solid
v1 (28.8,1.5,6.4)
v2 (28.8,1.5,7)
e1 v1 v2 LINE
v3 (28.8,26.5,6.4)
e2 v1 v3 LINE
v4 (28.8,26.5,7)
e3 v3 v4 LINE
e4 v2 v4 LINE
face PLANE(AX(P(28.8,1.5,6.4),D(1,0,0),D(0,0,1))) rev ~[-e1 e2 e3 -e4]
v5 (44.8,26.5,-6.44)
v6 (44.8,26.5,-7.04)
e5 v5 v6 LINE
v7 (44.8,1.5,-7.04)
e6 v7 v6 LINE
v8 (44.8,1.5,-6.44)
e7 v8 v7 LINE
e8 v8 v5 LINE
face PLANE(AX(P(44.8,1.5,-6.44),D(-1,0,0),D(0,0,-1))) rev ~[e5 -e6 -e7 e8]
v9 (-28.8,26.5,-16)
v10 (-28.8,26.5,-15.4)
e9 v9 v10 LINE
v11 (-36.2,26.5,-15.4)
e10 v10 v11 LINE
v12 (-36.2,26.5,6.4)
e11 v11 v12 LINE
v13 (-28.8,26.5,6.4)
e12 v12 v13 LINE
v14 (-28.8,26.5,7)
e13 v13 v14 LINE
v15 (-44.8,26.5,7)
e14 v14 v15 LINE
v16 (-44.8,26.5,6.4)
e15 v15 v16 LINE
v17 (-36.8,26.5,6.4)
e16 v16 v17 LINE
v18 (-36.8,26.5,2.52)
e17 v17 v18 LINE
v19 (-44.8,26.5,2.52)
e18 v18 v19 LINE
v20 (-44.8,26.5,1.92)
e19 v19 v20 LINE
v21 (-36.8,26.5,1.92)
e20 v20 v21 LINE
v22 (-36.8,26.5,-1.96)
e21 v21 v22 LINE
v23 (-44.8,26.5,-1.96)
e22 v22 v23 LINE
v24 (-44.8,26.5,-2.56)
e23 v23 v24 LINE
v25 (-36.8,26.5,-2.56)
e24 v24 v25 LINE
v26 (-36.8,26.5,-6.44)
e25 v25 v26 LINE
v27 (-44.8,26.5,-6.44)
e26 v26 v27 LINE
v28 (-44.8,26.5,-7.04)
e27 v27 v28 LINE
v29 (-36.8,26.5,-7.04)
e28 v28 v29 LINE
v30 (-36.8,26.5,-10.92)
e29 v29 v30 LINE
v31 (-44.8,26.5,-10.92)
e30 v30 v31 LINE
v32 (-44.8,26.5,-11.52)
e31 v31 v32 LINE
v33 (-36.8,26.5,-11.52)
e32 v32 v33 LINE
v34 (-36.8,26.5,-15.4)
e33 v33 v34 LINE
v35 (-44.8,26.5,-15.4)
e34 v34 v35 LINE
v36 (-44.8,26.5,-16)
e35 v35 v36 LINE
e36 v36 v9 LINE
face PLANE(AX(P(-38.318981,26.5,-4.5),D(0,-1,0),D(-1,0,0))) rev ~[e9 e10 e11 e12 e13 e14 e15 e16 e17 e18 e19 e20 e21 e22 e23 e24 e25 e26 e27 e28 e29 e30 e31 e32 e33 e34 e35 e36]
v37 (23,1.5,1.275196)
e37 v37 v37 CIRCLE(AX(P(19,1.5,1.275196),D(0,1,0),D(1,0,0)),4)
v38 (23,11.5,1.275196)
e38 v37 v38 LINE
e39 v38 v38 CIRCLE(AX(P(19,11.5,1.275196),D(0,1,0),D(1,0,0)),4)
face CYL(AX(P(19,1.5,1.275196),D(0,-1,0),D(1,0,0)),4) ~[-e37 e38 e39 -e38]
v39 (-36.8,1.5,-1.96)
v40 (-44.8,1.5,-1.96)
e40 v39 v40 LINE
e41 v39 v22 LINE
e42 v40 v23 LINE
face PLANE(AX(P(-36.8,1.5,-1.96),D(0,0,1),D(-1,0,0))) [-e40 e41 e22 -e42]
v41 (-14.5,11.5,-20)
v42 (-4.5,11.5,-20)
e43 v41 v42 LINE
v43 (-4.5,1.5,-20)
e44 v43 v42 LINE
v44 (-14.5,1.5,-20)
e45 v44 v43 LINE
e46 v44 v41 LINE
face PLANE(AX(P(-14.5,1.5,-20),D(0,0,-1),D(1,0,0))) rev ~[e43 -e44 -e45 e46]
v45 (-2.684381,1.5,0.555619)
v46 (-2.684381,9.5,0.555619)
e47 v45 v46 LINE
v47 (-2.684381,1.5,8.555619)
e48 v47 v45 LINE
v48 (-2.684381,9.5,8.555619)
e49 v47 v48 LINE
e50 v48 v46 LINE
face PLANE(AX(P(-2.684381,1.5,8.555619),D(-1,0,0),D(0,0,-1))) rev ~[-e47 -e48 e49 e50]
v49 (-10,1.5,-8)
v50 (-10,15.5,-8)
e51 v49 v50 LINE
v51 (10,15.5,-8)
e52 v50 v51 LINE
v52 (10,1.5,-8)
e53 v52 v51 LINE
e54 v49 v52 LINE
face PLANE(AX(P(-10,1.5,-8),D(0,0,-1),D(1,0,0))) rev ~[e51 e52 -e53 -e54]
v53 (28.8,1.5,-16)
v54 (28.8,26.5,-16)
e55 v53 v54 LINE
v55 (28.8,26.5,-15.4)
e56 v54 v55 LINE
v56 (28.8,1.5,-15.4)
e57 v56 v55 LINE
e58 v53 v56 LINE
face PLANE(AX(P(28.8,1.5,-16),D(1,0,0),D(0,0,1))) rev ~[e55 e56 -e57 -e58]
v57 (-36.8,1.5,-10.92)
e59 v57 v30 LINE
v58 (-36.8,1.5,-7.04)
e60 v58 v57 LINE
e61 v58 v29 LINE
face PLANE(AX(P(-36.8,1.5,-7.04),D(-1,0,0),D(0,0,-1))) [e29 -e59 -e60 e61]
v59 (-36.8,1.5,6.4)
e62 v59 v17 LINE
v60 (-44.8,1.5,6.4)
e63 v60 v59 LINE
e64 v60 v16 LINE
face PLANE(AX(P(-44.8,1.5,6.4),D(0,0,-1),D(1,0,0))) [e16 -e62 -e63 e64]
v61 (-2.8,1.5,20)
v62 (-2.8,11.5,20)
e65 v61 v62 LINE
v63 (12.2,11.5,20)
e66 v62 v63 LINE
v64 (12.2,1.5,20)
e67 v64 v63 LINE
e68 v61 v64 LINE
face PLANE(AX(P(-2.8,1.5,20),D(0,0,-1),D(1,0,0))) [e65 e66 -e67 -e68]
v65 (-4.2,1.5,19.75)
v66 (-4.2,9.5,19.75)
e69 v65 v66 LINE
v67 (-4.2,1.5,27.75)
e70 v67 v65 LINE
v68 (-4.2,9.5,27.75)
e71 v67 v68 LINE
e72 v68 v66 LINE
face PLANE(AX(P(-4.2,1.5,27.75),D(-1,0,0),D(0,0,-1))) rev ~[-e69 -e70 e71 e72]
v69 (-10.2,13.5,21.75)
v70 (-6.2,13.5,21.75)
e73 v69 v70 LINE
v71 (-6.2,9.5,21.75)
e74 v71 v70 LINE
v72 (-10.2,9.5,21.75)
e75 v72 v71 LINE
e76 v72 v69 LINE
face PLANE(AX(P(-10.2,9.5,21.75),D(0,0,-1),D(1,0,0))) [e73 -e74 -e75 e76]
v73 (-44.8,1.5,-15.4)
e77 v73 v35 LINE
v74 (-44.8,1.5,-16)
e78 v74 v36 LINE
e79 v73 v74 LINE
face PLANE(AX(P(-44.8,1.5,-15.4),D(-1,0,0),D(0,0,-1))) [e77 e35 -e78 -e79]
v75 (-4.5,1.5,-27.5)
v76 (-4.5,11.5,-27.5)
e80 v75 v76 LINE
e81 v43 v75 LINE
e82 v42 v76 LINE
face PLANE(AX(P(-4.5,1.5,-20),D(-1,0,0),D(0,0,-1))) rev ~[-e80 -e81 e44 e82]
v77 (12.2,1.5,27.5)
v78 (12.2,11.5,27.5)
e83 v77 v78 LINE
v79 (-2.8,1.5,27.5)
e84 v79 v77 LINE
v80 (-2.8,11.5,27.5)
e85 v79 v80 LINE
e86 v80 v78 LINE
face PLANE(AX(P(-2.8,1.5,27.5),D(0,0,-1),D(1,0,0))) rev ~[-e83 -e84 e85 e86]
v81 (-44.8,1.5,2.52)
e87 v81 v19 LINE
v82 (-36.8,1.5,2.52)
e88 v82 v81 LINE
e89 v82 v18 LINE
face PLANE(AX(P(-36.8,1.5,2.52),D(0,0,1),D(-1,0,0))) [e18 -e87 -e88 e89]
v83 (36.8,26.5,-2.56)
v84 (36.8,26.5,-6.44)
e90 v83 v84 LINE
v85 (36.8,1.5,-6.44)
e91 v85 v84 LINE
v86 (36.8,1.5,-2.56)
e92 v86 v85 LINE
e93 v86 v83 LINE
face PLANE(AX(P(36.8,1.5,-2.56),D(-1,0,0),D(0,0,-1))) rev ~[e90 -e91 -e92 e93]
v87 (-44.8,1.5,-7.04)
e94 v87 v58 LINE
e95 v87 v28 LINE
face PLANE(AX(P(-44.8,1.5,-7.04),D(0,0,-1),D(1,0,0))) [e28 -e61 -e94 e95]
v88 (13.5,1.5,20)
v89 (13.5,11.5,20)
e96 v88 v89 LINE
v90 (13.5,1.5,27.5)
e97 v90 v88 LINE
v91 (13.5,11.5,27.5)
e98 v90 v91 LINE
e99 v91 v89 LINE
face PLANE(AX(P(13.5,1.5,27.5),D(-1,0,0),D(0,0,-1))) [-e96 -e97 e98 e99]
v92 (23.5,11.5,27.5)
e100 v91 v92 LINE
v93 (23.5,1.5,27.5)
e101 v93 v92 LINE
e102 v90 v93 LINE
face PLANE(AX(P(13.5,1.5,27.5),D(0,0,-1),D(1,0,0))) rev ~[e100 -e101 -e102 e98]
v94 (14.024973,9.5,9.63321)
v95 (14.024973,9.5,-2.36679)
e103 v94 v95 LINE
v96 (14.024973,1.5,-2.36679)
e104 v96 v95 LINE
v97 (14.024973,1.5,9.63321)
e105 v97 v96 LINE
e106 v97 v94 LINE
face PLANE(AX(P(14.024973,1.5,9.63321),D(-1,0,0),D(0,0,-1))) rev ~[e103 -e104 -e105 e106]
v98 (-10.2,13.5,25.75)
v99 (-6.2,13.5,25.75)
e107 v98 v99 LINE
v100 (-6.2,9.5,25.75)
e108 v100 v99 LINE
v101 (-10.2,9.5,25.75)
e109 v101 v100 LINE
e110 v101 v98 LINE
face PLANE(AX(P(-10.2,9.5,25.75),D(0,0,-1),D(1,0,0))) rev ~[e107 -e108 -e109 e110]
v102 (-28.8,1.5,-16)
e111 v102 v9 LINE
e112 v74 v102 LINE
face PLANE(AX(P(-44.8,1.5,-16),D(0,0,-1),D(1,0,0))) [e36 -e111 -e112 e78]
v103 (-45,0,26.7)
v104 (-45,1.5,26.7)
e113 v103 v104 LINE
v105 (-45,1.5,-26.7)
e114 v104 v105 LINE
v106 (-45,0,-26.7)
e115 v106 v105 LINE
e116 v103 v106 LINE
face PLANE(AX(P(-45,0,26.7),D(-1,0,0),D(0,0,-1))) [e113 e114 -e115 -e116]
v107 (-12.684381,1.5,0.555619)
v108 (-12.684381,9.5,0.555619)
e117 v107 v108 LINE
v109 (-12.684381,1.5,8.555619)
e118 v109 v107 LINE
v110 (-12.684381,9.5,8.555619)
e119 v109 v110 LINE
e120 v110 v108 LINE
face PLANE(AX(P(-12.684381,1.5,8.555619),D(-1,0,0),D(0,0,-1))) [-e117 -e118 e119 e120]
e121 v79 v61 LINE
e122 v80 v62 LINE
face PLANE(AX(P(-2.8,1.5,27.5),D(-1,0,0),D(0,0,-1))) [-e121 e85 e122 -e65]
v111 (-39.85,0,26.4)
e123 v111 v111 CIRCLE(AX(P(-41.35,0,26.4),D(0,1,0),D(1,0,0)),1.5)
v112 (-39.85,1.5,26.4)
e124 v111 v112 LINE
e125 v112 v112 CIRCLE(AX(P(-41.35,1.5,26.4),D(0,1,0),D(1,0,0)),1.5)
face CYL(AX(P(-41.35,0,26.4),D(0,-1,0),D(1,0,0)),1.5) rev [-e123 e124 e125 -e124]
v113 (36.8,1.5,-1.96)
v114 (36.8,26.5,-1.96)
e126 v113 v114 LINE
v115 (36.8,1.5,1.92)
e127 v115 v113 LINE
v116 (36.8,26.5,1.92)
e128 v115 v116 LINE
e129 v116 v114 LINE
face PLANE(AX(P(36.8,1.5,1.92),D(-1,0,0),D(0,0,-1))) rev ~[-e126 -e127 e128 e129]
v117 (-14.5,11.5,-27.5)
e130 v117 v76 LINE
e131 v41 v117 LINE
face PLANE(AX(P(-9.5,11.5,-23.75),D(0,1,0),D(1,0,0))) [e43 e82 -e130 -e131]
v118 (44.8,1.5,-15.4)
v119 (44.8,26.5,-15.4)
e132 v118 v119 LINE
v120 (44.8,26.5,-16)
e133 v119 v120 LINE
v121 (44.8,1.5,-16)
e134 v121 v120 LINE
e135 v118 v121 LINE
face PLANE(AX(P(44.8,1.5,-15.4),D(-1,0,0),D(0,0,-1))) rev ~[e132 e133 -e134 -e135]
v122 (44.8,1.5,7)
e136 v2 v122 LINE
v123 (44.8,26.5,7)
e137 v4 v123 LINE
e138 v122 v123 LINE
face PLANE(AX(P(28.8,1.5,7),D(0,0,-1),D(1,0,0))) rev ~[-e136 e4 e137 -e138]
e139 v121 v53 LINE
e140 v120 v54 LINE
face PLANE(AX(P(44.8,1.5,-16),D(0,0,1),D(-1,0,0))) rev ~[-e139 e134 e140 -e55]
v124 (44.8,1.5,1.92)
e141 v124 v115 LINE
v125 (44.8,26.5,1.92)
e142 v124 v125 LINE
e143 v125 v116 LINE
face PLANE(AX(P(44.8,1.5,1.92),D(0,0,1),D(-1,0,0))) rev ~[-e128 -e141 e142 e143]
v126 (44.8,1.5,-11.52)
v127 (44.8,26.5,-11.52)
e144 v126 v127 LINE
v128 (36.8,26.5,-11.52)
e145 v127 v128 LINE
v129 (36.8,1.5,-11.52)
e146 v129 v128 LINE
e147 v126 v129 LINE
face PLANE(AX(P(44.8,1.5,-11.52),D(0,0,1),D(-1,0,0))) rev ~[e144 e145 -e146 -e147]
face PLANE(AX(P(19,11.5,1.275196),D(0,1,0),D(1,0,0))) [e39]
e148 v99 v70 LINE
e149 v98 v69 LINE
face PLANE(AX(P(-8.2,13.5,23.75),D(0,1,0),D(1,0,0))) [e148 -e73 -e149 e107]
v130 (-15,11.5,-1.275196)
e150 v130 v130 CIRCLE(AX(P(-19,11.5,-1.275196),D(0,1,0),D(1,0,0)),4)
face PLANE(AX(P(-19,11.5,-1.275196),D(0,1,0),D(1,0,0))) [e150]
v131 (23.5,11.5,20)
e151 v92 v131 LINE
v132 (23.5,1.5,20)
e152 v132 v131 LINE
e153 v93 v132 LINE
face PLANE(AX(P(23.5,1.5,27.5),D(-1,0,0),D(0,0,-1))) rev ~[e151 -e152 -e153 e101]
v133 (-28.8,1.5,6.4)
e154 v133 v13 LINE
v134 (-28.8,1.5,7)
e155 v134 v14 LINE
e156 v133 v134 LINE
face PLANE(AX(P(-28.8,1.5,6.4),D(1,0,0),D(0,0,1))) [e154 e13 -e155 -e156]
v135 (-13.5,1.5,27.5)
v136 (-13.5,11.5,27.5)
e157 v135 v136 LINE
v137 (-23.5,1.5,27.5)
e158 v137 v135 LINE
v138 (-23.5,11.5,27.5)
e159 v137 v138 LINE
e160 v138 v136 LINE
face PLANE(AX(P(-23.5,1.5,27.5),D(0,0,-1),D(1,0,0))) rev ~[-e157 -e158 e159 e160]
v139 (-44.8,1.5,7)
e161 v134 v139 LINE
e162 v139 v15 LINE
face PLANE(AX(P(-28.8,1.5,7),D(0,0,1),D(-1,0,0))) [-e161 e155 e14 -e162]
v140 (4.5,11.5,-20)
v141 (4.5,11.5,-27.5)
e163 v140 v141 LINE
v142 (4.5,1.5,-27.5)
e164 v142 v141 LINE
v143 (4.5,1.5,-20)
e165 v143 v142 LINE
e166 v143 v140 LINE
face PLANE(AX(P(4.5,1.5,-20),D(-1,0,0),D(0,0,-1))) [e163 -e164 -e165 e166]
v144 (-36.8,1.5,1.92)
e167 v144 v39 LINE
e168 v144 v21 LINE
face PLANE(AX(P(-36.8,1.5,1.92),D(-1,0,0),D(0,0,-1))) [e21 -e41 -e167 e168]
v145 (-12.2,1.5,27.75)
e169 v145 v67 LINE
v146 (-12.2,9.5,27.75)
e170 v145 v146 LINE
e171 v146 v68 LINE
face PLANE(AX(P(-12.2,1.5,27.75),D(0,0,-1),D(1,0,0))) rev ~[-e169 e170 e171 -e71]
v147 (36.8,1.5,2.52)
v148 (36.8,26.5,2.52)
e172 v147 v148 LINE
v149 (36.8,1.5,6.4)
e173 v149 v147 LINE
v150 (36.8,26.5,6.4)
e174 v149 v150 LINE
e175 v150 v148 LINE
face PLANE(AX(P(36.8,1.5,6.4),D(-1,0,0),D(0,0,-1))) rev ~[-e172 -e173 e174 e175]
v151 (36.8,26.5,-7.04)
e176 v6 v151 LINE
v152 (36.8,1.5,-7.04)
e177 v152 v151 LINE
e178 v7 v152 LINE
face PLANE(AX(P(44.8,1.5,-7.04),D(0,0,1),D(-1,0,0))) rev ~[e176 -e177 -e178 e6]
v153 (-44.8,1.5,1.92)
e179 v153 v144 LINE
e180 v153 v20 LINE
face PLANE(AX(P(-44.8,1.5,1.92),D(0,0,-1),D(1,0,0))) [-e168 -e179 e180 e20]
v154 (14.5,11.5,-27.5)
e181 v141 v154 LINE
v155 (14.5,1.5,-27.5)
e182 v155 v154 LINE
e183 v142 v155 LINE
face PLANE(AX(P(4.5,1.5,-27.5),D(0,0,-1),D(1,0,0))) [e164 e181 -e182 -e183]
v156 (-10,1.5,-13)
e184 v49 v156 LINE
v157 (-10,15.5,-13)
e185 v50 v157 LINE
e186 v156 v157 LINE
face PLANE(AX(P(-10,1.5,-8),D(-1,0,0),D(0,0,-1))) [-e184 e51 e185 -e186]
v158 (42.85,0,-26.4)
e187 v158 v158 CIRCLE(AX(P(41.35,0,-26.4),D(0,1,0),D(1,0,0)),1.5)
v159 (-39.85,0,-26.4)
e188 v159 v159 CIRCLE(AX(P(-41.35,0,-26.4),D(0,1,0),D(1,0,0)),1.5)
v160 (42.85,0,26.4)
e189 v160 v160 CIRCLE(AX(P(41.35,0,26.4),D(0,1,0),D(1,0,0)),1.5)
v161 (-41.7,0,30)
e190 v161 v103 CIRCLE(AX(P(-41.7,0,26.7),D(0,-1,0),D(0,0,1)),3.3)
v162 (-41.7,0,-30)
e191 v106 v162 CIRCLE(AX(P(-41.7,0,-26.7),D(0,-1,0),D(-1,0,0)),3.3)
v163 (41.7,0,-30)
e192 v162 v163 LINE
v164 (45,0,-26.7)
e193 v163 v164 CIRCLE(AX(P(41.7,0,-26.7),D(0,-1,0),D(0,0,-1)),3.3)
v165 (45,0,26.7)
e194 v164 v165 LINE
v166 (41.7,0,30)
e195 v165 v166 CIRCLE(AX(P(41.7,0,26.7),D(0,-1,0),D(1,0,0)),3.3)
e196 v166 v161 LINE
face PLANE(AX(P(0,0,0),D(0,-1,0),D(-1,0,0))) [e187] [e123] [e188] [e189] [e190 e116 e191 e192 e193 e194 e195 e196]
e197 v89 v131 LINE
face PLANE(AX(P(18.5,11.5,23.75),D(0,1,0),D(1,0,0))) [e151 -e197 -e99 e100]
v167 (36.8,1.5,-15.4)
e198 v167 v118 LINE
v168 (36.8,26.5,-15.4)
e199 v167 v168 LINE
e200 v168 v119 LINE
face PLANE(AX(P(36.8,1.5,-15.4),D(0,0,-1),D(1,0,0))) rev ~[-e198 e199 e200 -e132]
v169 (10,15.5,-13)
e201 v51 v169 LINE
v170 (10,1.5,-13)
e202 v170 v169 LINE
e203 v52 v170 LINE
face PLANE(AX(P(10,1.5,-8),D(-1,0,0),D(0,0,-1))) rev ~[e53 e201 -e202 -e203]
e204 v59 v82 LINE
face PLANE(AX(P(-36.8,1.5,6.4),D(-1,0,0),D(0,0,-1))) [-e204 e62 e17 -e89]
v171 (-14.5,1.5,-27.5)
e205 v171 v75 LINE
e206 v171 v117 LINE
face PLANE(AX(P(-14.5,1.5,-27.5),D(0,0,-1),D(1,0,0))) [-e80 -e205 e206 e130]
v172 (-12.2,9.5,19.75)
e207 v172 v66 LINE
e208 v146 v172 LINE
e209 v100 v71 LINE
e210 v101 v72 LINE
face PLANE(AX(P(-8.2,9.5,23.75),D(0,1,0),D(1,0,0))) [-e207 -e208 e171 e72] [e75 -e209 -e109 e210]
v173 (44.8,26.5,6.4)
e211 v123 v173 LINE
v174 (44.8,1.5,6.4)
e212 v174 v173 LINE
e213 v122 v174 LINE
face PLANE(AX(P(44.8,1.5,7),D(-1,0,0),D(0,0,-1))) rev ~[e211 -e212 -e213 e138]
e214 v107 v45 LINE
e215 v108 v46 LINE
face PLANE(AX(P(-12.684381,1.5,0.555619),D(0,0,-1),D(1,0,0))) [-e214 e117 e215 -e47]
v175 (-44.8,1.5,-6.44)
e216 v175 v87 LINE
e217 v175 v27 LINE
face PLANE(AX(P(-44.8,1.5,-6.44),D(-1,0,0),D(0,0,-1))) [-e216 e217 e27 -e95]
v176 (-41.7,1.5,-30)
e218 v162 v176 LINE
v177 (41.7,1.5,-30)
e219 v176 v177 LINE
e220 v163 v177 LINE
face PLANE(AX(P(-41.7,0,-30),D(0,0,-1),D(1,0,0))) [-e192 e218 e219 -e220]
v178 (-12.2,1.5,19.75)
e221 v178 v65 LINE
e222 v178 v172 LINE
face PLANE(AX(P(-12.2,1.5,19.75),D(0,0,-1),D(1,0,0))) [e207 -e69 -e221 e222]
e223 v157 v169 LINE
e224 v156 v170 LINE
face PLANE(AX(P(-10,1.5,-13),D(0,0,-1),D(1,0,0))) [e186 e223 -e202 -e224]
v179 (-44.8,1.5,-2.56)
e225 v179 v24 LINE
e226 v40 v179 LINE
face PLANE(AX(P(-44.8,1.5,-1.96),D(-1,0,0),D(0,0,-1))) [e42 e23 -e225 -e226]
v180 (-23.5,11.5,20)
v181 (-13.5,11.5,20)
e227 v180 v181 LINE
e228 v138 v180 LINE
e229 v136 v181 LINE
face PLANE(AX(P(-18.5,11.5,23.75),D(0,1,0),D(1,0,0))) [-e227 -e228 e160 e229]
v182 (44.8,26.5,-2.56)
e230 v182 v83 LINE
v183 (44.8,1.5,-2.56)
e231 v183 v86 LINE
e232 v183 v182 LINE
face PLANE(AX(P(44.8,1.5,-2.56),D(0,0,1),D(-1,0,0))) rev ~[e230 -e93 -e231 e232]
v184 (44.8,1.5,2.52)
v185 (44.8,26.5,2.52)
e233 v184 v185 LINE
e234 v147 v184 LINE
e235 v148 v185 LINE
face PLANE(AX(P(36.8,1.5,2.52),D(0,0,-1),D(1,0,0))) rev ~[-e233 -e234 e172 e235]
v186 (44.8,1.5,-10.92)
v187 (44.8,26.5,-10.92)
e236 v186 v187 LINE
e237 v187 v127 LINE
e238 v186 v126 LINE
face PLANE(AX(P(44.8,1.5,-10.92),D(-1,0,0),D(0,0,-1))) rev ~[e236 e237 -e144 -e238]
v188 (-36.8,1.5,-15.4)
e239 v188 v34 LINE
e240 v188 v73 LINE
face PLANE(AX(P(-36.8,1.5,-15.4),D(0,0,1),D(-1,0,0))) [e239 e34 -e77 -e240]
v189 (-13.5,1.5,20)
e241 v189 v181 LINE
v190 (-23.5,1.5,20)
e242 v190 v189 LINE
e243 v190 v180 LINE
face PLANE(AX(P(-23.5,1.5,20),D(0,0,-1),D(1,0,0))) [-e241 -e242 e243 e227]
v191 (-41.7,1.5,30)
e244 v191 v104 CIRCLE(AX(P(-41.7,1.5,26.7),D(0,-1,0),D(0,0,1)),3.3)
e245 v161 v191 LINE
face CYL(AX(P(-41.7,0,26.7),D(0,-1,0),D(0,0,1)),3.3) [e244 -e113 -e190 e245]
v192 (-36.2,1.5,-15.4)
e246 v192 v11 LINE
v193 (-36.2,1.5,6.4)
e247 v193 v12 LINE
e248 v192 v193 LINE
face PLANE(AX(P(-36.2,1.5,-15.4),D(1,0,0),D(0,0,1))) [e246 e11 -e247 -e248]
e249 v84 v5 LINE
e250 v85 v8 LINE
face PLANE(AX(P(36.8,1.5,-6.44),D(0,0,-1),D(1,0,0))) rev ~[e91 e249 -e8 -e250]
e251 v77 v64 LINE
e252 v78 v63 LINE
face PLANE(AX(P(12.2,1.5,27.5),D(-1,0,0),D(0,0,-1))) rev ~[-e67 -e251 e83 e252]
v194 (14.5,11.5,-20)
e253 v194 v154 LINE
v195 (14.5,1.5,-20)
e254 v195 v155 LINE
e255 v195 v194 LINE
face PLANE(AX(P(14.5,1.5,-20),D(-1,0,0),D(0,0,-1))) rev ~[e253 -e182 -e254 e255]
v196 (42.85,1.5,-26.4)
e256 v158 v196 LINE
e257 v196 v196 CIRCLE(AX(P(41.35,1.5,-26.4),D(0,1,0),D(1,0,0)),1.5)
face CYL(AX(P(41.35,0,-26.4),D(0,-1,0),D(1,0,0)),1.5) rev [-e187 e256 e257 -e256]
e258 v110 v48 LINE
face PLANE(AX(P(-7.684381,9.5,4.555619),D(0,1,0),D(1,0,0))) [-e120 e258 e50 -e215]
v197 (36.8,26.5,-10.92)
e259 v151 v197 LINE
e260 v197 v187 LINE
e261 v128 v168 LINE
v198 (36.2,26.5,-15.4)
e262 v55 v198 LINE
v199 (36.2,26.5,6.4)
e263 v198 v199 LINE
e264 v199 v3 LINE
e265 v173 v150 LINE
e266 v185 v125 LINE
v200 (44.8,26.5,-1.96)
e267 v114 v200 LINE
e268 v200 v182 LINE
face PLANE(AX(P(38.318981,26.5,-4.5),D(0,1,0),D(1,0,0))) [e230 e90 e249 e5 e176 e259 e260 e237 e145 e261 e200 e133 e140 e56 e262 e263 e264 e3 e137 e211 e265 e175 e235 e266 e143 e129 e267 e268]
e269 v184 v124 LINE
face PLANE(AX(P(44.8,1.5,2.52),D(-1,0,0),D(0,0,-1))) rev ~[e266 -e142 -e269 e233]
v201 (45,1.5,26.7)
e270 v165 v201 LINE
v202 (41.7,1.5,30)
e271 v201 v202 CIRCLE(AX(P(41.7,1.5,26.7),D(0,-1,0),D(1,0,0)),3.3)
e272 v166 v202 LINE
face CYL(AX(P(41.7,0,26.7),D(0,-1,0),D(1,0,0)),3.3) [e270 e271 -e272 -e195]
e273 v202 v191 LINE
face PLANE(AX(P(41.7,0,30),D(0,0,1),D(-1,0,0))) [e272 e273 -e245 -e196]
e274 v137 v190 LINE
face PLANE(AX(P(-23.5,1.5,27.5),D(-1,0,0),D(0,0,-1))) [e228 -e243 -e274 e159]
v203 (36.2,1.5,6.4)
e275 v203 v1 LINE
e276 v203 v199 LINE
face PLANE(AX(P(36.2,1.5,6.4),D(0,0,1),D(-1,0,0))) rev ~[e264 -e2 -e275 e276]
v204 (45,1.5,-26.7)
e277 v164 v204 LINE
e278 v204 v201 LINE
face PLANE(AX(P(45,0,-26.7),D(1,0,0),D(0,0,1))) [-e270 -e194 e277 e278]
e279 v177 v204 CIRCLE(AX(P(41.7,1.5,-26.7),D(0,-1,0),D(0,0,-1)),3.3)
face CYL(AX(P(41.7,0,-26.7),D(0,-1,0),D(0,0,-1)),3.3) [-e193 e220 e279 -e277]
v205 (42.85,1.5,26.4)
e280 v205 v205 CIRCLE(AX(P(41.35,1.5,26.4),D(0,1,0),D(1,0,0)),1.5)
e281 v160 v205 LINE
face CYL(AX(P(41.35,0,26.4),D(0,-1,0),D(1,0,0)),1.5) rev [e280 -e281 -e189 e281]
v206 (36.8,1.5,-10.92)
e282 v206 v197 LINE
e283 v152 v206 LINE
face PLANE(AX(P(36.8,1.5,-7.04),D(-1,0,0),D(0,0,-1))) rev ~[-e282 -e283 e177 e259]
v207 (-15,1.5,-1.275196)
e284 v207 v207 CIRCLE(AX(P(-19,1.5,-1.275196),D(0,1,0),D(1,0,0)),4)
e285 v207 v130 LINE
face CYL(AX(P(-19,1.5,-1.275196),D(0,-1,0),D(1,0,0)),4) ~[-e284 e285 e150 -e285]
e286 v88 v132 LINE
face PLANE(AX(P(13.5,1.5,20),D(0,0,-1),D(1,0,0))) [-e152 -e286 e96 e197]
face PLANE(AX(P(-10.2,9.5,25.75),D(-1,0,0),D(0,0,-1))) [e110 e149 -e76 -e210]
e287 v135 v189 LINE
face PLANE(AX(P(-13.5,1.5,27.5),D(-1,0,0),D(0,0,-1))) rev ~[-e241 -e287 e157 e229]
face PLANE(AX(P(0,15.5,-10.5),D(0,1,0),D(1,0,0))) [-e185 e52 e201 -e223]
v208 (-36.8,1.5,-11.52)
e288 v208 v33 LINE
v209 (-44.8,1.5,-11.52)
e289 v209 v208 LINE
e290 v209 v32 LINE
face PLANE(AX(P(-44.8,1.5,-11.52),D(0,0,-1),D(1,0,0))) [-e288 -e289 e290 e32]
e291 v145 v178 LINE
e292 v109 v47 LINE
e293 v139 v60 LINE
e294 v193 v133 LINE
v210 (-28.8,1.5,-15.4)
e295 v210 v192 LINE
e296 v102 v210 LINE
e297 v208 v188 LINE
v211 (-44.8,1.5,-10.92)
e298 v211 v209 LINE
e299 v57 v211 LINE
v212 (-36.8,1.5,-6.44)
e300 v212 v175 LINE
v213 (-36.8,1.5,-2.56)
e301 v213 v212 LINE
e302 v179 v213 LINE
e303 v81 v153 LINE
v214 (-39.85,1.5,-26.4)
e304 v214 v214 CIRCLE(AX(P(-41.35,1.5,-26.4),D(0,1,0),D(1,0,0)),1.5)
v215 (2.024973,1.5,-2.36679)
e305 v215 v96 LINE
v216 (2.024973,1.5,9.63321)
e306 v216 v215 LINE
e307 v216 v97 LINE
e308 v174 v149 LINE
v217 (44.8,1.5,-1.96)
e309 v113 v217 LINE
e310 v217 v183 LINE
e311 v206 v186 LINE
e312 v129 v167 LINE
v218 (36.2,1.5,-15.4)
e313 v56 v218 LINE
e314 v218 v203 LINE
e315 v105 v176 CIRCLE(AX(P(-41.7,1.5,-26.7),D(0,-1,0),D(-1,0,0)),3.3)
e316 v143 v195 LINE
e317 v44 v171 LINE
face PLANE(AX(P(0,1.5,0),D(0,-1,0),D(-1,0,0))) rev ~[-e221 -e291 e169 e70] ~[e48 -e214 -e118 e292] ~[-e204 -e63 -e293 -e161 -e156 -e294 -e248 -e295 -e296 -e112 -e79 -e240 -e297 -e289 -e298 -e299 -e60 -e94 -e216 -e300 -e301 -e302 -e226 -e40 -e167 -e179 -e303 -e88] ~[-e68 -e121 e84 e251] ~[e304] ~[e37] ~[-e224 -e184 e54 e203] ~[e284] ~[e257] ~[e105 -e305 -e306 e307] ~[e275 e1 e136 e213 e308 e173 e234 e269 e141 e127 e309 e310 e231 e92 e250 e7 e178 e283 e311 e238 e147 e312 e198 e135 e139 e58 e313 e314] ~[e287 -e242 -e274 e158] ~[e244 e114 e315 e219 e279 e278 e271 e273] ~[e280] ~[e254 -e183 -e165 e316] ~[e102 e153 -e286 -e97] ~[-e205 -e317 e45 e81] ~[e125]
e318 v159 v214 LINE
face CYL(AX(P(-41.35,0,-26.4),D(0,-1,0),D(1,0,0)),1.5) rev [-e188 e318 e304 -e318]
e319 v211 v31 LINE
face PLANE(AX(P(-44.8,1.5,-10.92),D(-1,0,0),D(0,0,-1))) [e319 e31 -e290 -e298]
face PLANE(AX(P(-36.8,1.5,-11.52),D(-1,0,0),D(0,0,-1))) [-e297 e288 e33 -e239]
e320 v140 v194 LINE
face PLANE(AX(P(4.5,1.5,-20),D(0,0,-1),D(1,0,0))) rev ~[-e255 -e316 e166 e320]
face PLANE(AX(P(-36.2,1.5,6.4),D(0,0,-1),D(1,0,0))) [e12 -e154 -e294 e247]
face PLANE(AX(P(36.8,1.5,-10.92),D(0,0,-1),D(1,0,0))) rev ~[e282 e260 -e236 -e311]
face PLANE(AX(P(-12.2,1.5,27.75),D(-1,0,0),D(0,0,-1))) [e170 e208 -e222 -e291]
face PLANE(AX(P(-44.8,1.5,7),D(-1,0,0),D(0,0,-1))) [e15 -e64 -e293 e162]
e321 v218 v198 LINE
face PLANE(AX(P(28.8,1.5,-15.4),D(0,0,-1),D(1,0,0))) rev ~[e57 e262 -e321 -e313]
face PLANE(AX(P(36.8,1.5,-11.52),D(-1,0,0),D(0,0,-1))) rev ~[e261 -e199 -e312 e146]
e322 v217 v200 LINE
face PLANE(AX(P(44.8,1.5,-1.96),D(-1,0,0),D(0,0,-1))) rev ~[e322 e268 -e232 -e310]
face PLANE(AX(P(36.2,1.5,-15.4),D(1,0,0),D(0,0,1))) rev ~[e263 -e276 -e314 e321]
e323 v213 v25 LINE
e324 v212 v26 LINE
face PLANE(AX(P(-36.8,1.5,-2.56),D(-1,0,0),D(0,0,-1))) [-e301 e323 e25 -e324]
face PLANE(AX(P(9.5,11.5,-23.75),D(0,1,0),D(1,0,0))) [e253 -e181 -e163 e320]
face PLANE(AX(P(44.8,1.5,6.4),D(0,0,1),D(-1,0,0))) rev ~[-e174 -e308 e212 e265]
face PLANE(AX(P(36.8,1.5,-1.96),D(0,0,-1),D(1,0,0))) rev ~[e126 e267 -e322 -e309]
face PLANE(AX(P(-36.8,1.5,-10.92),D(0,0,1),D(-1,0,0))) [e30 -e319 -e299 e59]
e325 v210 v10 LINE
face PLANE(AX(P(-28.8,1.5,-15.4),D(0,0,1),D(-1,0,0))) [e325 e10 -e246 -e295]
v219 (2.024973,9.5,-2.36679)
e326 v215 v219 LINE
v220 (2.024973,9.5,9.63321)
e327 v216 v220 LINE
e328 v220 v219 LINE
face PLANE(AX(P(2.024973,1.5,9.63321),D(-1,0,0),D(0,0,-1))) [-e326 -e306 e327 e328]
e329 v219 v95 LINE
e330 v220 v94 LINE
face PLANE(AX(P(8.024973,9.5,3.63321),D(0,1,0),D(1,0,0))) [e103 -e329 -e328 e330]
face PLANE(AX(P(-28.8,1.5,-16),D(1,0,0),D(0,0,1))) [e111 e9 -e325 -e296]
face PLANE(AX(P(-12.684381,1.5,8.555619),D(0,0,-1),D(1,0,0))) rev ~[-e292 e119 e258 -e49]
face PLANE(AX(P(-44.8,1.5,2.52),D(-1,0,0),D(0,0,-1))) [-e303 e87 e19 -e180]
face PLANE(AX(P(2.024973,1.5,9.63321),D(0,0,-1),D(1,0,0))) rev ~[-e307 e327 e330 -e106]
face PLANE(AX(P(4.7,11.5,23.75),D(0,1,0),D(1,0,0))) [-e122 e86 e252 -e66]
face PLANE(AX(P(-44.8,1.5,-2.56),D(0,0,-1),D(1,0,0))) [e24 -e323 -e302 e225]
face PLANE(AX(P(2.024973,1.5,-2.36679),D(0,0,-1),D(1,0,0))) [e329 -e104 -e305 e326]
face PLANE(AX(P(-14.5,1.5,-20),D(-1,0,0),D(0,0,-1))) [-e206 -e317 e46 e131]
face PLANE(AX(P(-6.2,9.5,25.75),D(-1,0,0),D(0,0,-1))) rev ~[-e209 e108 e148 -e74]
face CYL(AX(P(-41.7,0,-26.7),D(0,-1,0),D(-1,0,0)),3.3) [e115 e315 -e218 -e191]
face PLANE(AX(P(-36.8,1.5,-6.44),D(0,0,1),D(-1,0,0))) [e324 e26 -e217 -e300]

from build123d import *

# Parameters (mm, degrees)
SKETCH_1_R      = 1.5
EXTRUDE_1_DEPTH = 1.5
SKETCH_2_W      = 10
SKETCH_2_H      = 7.5
EXTRUDE_2_DEPTH = 10
SKETCH_3_W      = 8
SKETCH_3_H      = 8
EXTRUDE_3_DEPTH = 8
SKETCH_4_W      = 15
SKETCH_4_H      = 7.5
EXTRUDE_4_DEPTH = 10
EXTRUDE_5_DEPTH = 25
SKETCH_6_W      = 4
SKETCH_6_H      = 4
EXTRUDE_6_DEPTH = 4
SKETCH_7_W      = 20
SKETCH_7_H      = 5
EXTRUDE_7_DEPTH = 14
SKETCH_8_W      = 12
SKETCH_8_H      = 12
SKETCH_8_W_2    = 10
SKETCH_8_H_2    = 8
EXTRUDE_8_DEPTH = 8
SKETCH_9_R      = 4
EXTRUDE_9_DEPTH = 10


with BuildPart() as part:
    # 草图1 → 凸台-拉伸1 (new body)
    with BuildSketch(Plane(origin=(0, 0, 0), x_dir=(1, 0, 0), z_dir=(0, 1, 0))):
        with BuildLine():
            Line((-41.7, 30), (41.7, 30))
            ThreePointArc((41.7, 30), (44.033452378, 29.033452378), (45, 26.7))
            Line((45, 26.7), (45, -26.7))
            ThreePointArc((45, -26.7), (44.033452378, -29.033452378), (41.7, -30))
            Line((41.7, -30), (-41.7, -30))
            ThreePointArc((-41.7, -30), (-44.033452378, -29.033452378), (-45, -26.7))
            Line((-45, -26.7), (-45, 26.7))
            ThreePointArc((-45, 26.7), (-44.033452378, 29.033452378), (-41.7, 30))
        make_face()
        with Locations((-41.35, 26.4)):
            Circle(SKETCH_1_R, mode=Mode.SUBTRACT)
        with Locations((41.35, 26.4)):
            Circle(SKETCH_1_R, mode=Mode.SUBTRACT)
        with Locations((41.35, -26.4)):
            Circle(SKETCH_1_R, mode=Mode.SUBTRACT)
        with Locations((-41.35, -26.4)):
            Circle(SKETCH_1_R, mode=Mode.SUBTRACT)
    extrude(amount=EXTRUDE_1_DEPTH)

    # 草图2 → 凸台-拉伸2 (add)
    with BuildSketch(Plane(origin=(0, 1.5, 0), x_dir=(1, 0, 0), z_dir=(0, 1, 0))):
        with Locations((18.5, -23.75)):
            Rectangle(SKETCH_2_W, SKETCH_2_H)
        with Locations((-9.5, 23.75)):
            Rectangle(SKETCH_2_W, SKETCH_2_H)
        with Locations((9.5, 23.75)):
            Rectangle(SKETCH_2_W, SKETCH_2_H)
        with Locations((-18.5, -23.75)):
            Rectangle(SKETCH_2_W, SKETCH_2_H)
    extrude(amount=EXTRUDE_2_DEPTH)

    # 草图3 → 凸台-拉伸3 (add)
    with BuildSketch(Plane(origin=(0, 1.5, 0), x_dir=(1, 0, 0), z_dir=(0, 1, 0))):
        with Locations((-8.2, -23.75)):
            Rectangle(SKETCH_3_W, SKETCH_3_H)
    extrude(amount=EXTRUDE_3_DEPTH)

    # 草图4 → 凸台-拉伸4 (add)
    with BuildSketch(Plane(origin=(0, 1.5, 0), x_dir=(1, 0, 0), z_dir=(0, 1, 0))):
        with Locations((4.7, -23.75)):
            Rectangle(SKETCH_4_W, SKETCH_4_H)
    extrude(amount=EXTRUDE_4_DEPTH)

    # 草图5 → 凸台-拉伸5 (add)
    with BuildSketch(Plane(origin=(0, 1.5, 0), x_dir=(1, 0, 0), z_dir=(0, 1, 0))):
        Polygon((44.8, 16), (28.8, 16), (28.8, 15.4), (36.2, 15.4), (36.2, -6.4), (28.8, -6.4), (28.8, -7), (44.8, -7), (44.8, -6.4), (36.8, -6.4), (36.8, -2.52), (44.8, -2.52), (44.8, -1.92), (36.8, -1.92), (36.8, 1.96), (44.8, 1.96), (44.8, 2.56), (36.8, 2.56), (36.8, 6.44), (44.8, 6.44), (44.8, 7.04), (36.8, 7.04), (36.8, 10.92), (44.8, 10.92), (44.8, 11.52), (36.8, 11.52), (36.8, 15.4), (44.8, 15.4), align=None)
        Polygon((-44.8, 15.4), (-44.8, 16), (-28.8, 16), (-28.8, 15.4), (-36.2, 15.4), (-36.2, -6.4), (-28.8, -6.4), (-28.8, -7), (-44.8, -7), (-44.8, -6.4), (-36.8, -6.4), (-36.8, -2.52), (-44.8, -2.52), (-44.8, -1.92), (-36.8, -1.92), (-36.8, 1.96), (-44.8, 1.96), (-44.8, 2.56), (-36.8, 2.56), (-36.8, 6.44), (-44.8, 6.44), (-44.8, 7.04), (-36.8, 7.04), (-36.8, 10.92), (-44.8, 10.92), (-44.8, 11.52), (-36.8, 11.52), (-36.8, 15.4), align=None)
    extrude(amount=EXTRUDE_5_DEPTH)

    # 草图6 → 凸台-拉伸6 (add)
    with BuildSketch(Plane(origin=(0, 9.5, 0), x_dir=(1, 0, 0), z_dir=(0, 1, 0))):
        with Locations((-8.2, -23.75)):
            Rectangle(SKETCH_6_W, SKETCH_6_H)
    extrude(amount=EXTRUDE_6_DEPTH)

    # 草图7 → 凸台-拉伸7 (add)
    with BuildSketch(Plane(origin=(0, 1.5, 0), x_dir=(1, 0, 0), z_dir=(0, 1, 0))):
        with Locations((0, 10.5)):
            Rectangle(SKETCH_7_W, SKETCH_7_H)
    extrude(amount=EXTRUDE_7_DEPTH)

    # 草图8 → 凸台-拉伸8 (add)
    with BuildSketch(Plane(origin=(0, 1.5, 0), x_dir=(1, 0, 0), z_dir=(0, 1, 0))):
        with Locations((8.02497304, -3.633209752)):
            Rectangle(SKETCH_8_W, SKETCH_8_H)
        with Locations((-7.684380811, -4.555618829)):
            Rectangle(SKETCH_8_W_2, SKETCH_8_H_2)
    extrude(amount=EXTRUDE_8_DEPTH)

    # 草图9 → 凸台-拉伸9 (add)
    with BuildSketch(Plane(origin=(0, 1.5, 0), x_dir=(1, 0, 0), z_dir=(0, 1, 0))):
        with Locations((-19, 1.275195949)):
            Circle(SKETCH_9_R)
        with Locations((19, -1.275195949)):
            Circle(SKETCH_9_R)
    extrude(amount=EXTRUDE_9_DEPTH)


solid = part.part
